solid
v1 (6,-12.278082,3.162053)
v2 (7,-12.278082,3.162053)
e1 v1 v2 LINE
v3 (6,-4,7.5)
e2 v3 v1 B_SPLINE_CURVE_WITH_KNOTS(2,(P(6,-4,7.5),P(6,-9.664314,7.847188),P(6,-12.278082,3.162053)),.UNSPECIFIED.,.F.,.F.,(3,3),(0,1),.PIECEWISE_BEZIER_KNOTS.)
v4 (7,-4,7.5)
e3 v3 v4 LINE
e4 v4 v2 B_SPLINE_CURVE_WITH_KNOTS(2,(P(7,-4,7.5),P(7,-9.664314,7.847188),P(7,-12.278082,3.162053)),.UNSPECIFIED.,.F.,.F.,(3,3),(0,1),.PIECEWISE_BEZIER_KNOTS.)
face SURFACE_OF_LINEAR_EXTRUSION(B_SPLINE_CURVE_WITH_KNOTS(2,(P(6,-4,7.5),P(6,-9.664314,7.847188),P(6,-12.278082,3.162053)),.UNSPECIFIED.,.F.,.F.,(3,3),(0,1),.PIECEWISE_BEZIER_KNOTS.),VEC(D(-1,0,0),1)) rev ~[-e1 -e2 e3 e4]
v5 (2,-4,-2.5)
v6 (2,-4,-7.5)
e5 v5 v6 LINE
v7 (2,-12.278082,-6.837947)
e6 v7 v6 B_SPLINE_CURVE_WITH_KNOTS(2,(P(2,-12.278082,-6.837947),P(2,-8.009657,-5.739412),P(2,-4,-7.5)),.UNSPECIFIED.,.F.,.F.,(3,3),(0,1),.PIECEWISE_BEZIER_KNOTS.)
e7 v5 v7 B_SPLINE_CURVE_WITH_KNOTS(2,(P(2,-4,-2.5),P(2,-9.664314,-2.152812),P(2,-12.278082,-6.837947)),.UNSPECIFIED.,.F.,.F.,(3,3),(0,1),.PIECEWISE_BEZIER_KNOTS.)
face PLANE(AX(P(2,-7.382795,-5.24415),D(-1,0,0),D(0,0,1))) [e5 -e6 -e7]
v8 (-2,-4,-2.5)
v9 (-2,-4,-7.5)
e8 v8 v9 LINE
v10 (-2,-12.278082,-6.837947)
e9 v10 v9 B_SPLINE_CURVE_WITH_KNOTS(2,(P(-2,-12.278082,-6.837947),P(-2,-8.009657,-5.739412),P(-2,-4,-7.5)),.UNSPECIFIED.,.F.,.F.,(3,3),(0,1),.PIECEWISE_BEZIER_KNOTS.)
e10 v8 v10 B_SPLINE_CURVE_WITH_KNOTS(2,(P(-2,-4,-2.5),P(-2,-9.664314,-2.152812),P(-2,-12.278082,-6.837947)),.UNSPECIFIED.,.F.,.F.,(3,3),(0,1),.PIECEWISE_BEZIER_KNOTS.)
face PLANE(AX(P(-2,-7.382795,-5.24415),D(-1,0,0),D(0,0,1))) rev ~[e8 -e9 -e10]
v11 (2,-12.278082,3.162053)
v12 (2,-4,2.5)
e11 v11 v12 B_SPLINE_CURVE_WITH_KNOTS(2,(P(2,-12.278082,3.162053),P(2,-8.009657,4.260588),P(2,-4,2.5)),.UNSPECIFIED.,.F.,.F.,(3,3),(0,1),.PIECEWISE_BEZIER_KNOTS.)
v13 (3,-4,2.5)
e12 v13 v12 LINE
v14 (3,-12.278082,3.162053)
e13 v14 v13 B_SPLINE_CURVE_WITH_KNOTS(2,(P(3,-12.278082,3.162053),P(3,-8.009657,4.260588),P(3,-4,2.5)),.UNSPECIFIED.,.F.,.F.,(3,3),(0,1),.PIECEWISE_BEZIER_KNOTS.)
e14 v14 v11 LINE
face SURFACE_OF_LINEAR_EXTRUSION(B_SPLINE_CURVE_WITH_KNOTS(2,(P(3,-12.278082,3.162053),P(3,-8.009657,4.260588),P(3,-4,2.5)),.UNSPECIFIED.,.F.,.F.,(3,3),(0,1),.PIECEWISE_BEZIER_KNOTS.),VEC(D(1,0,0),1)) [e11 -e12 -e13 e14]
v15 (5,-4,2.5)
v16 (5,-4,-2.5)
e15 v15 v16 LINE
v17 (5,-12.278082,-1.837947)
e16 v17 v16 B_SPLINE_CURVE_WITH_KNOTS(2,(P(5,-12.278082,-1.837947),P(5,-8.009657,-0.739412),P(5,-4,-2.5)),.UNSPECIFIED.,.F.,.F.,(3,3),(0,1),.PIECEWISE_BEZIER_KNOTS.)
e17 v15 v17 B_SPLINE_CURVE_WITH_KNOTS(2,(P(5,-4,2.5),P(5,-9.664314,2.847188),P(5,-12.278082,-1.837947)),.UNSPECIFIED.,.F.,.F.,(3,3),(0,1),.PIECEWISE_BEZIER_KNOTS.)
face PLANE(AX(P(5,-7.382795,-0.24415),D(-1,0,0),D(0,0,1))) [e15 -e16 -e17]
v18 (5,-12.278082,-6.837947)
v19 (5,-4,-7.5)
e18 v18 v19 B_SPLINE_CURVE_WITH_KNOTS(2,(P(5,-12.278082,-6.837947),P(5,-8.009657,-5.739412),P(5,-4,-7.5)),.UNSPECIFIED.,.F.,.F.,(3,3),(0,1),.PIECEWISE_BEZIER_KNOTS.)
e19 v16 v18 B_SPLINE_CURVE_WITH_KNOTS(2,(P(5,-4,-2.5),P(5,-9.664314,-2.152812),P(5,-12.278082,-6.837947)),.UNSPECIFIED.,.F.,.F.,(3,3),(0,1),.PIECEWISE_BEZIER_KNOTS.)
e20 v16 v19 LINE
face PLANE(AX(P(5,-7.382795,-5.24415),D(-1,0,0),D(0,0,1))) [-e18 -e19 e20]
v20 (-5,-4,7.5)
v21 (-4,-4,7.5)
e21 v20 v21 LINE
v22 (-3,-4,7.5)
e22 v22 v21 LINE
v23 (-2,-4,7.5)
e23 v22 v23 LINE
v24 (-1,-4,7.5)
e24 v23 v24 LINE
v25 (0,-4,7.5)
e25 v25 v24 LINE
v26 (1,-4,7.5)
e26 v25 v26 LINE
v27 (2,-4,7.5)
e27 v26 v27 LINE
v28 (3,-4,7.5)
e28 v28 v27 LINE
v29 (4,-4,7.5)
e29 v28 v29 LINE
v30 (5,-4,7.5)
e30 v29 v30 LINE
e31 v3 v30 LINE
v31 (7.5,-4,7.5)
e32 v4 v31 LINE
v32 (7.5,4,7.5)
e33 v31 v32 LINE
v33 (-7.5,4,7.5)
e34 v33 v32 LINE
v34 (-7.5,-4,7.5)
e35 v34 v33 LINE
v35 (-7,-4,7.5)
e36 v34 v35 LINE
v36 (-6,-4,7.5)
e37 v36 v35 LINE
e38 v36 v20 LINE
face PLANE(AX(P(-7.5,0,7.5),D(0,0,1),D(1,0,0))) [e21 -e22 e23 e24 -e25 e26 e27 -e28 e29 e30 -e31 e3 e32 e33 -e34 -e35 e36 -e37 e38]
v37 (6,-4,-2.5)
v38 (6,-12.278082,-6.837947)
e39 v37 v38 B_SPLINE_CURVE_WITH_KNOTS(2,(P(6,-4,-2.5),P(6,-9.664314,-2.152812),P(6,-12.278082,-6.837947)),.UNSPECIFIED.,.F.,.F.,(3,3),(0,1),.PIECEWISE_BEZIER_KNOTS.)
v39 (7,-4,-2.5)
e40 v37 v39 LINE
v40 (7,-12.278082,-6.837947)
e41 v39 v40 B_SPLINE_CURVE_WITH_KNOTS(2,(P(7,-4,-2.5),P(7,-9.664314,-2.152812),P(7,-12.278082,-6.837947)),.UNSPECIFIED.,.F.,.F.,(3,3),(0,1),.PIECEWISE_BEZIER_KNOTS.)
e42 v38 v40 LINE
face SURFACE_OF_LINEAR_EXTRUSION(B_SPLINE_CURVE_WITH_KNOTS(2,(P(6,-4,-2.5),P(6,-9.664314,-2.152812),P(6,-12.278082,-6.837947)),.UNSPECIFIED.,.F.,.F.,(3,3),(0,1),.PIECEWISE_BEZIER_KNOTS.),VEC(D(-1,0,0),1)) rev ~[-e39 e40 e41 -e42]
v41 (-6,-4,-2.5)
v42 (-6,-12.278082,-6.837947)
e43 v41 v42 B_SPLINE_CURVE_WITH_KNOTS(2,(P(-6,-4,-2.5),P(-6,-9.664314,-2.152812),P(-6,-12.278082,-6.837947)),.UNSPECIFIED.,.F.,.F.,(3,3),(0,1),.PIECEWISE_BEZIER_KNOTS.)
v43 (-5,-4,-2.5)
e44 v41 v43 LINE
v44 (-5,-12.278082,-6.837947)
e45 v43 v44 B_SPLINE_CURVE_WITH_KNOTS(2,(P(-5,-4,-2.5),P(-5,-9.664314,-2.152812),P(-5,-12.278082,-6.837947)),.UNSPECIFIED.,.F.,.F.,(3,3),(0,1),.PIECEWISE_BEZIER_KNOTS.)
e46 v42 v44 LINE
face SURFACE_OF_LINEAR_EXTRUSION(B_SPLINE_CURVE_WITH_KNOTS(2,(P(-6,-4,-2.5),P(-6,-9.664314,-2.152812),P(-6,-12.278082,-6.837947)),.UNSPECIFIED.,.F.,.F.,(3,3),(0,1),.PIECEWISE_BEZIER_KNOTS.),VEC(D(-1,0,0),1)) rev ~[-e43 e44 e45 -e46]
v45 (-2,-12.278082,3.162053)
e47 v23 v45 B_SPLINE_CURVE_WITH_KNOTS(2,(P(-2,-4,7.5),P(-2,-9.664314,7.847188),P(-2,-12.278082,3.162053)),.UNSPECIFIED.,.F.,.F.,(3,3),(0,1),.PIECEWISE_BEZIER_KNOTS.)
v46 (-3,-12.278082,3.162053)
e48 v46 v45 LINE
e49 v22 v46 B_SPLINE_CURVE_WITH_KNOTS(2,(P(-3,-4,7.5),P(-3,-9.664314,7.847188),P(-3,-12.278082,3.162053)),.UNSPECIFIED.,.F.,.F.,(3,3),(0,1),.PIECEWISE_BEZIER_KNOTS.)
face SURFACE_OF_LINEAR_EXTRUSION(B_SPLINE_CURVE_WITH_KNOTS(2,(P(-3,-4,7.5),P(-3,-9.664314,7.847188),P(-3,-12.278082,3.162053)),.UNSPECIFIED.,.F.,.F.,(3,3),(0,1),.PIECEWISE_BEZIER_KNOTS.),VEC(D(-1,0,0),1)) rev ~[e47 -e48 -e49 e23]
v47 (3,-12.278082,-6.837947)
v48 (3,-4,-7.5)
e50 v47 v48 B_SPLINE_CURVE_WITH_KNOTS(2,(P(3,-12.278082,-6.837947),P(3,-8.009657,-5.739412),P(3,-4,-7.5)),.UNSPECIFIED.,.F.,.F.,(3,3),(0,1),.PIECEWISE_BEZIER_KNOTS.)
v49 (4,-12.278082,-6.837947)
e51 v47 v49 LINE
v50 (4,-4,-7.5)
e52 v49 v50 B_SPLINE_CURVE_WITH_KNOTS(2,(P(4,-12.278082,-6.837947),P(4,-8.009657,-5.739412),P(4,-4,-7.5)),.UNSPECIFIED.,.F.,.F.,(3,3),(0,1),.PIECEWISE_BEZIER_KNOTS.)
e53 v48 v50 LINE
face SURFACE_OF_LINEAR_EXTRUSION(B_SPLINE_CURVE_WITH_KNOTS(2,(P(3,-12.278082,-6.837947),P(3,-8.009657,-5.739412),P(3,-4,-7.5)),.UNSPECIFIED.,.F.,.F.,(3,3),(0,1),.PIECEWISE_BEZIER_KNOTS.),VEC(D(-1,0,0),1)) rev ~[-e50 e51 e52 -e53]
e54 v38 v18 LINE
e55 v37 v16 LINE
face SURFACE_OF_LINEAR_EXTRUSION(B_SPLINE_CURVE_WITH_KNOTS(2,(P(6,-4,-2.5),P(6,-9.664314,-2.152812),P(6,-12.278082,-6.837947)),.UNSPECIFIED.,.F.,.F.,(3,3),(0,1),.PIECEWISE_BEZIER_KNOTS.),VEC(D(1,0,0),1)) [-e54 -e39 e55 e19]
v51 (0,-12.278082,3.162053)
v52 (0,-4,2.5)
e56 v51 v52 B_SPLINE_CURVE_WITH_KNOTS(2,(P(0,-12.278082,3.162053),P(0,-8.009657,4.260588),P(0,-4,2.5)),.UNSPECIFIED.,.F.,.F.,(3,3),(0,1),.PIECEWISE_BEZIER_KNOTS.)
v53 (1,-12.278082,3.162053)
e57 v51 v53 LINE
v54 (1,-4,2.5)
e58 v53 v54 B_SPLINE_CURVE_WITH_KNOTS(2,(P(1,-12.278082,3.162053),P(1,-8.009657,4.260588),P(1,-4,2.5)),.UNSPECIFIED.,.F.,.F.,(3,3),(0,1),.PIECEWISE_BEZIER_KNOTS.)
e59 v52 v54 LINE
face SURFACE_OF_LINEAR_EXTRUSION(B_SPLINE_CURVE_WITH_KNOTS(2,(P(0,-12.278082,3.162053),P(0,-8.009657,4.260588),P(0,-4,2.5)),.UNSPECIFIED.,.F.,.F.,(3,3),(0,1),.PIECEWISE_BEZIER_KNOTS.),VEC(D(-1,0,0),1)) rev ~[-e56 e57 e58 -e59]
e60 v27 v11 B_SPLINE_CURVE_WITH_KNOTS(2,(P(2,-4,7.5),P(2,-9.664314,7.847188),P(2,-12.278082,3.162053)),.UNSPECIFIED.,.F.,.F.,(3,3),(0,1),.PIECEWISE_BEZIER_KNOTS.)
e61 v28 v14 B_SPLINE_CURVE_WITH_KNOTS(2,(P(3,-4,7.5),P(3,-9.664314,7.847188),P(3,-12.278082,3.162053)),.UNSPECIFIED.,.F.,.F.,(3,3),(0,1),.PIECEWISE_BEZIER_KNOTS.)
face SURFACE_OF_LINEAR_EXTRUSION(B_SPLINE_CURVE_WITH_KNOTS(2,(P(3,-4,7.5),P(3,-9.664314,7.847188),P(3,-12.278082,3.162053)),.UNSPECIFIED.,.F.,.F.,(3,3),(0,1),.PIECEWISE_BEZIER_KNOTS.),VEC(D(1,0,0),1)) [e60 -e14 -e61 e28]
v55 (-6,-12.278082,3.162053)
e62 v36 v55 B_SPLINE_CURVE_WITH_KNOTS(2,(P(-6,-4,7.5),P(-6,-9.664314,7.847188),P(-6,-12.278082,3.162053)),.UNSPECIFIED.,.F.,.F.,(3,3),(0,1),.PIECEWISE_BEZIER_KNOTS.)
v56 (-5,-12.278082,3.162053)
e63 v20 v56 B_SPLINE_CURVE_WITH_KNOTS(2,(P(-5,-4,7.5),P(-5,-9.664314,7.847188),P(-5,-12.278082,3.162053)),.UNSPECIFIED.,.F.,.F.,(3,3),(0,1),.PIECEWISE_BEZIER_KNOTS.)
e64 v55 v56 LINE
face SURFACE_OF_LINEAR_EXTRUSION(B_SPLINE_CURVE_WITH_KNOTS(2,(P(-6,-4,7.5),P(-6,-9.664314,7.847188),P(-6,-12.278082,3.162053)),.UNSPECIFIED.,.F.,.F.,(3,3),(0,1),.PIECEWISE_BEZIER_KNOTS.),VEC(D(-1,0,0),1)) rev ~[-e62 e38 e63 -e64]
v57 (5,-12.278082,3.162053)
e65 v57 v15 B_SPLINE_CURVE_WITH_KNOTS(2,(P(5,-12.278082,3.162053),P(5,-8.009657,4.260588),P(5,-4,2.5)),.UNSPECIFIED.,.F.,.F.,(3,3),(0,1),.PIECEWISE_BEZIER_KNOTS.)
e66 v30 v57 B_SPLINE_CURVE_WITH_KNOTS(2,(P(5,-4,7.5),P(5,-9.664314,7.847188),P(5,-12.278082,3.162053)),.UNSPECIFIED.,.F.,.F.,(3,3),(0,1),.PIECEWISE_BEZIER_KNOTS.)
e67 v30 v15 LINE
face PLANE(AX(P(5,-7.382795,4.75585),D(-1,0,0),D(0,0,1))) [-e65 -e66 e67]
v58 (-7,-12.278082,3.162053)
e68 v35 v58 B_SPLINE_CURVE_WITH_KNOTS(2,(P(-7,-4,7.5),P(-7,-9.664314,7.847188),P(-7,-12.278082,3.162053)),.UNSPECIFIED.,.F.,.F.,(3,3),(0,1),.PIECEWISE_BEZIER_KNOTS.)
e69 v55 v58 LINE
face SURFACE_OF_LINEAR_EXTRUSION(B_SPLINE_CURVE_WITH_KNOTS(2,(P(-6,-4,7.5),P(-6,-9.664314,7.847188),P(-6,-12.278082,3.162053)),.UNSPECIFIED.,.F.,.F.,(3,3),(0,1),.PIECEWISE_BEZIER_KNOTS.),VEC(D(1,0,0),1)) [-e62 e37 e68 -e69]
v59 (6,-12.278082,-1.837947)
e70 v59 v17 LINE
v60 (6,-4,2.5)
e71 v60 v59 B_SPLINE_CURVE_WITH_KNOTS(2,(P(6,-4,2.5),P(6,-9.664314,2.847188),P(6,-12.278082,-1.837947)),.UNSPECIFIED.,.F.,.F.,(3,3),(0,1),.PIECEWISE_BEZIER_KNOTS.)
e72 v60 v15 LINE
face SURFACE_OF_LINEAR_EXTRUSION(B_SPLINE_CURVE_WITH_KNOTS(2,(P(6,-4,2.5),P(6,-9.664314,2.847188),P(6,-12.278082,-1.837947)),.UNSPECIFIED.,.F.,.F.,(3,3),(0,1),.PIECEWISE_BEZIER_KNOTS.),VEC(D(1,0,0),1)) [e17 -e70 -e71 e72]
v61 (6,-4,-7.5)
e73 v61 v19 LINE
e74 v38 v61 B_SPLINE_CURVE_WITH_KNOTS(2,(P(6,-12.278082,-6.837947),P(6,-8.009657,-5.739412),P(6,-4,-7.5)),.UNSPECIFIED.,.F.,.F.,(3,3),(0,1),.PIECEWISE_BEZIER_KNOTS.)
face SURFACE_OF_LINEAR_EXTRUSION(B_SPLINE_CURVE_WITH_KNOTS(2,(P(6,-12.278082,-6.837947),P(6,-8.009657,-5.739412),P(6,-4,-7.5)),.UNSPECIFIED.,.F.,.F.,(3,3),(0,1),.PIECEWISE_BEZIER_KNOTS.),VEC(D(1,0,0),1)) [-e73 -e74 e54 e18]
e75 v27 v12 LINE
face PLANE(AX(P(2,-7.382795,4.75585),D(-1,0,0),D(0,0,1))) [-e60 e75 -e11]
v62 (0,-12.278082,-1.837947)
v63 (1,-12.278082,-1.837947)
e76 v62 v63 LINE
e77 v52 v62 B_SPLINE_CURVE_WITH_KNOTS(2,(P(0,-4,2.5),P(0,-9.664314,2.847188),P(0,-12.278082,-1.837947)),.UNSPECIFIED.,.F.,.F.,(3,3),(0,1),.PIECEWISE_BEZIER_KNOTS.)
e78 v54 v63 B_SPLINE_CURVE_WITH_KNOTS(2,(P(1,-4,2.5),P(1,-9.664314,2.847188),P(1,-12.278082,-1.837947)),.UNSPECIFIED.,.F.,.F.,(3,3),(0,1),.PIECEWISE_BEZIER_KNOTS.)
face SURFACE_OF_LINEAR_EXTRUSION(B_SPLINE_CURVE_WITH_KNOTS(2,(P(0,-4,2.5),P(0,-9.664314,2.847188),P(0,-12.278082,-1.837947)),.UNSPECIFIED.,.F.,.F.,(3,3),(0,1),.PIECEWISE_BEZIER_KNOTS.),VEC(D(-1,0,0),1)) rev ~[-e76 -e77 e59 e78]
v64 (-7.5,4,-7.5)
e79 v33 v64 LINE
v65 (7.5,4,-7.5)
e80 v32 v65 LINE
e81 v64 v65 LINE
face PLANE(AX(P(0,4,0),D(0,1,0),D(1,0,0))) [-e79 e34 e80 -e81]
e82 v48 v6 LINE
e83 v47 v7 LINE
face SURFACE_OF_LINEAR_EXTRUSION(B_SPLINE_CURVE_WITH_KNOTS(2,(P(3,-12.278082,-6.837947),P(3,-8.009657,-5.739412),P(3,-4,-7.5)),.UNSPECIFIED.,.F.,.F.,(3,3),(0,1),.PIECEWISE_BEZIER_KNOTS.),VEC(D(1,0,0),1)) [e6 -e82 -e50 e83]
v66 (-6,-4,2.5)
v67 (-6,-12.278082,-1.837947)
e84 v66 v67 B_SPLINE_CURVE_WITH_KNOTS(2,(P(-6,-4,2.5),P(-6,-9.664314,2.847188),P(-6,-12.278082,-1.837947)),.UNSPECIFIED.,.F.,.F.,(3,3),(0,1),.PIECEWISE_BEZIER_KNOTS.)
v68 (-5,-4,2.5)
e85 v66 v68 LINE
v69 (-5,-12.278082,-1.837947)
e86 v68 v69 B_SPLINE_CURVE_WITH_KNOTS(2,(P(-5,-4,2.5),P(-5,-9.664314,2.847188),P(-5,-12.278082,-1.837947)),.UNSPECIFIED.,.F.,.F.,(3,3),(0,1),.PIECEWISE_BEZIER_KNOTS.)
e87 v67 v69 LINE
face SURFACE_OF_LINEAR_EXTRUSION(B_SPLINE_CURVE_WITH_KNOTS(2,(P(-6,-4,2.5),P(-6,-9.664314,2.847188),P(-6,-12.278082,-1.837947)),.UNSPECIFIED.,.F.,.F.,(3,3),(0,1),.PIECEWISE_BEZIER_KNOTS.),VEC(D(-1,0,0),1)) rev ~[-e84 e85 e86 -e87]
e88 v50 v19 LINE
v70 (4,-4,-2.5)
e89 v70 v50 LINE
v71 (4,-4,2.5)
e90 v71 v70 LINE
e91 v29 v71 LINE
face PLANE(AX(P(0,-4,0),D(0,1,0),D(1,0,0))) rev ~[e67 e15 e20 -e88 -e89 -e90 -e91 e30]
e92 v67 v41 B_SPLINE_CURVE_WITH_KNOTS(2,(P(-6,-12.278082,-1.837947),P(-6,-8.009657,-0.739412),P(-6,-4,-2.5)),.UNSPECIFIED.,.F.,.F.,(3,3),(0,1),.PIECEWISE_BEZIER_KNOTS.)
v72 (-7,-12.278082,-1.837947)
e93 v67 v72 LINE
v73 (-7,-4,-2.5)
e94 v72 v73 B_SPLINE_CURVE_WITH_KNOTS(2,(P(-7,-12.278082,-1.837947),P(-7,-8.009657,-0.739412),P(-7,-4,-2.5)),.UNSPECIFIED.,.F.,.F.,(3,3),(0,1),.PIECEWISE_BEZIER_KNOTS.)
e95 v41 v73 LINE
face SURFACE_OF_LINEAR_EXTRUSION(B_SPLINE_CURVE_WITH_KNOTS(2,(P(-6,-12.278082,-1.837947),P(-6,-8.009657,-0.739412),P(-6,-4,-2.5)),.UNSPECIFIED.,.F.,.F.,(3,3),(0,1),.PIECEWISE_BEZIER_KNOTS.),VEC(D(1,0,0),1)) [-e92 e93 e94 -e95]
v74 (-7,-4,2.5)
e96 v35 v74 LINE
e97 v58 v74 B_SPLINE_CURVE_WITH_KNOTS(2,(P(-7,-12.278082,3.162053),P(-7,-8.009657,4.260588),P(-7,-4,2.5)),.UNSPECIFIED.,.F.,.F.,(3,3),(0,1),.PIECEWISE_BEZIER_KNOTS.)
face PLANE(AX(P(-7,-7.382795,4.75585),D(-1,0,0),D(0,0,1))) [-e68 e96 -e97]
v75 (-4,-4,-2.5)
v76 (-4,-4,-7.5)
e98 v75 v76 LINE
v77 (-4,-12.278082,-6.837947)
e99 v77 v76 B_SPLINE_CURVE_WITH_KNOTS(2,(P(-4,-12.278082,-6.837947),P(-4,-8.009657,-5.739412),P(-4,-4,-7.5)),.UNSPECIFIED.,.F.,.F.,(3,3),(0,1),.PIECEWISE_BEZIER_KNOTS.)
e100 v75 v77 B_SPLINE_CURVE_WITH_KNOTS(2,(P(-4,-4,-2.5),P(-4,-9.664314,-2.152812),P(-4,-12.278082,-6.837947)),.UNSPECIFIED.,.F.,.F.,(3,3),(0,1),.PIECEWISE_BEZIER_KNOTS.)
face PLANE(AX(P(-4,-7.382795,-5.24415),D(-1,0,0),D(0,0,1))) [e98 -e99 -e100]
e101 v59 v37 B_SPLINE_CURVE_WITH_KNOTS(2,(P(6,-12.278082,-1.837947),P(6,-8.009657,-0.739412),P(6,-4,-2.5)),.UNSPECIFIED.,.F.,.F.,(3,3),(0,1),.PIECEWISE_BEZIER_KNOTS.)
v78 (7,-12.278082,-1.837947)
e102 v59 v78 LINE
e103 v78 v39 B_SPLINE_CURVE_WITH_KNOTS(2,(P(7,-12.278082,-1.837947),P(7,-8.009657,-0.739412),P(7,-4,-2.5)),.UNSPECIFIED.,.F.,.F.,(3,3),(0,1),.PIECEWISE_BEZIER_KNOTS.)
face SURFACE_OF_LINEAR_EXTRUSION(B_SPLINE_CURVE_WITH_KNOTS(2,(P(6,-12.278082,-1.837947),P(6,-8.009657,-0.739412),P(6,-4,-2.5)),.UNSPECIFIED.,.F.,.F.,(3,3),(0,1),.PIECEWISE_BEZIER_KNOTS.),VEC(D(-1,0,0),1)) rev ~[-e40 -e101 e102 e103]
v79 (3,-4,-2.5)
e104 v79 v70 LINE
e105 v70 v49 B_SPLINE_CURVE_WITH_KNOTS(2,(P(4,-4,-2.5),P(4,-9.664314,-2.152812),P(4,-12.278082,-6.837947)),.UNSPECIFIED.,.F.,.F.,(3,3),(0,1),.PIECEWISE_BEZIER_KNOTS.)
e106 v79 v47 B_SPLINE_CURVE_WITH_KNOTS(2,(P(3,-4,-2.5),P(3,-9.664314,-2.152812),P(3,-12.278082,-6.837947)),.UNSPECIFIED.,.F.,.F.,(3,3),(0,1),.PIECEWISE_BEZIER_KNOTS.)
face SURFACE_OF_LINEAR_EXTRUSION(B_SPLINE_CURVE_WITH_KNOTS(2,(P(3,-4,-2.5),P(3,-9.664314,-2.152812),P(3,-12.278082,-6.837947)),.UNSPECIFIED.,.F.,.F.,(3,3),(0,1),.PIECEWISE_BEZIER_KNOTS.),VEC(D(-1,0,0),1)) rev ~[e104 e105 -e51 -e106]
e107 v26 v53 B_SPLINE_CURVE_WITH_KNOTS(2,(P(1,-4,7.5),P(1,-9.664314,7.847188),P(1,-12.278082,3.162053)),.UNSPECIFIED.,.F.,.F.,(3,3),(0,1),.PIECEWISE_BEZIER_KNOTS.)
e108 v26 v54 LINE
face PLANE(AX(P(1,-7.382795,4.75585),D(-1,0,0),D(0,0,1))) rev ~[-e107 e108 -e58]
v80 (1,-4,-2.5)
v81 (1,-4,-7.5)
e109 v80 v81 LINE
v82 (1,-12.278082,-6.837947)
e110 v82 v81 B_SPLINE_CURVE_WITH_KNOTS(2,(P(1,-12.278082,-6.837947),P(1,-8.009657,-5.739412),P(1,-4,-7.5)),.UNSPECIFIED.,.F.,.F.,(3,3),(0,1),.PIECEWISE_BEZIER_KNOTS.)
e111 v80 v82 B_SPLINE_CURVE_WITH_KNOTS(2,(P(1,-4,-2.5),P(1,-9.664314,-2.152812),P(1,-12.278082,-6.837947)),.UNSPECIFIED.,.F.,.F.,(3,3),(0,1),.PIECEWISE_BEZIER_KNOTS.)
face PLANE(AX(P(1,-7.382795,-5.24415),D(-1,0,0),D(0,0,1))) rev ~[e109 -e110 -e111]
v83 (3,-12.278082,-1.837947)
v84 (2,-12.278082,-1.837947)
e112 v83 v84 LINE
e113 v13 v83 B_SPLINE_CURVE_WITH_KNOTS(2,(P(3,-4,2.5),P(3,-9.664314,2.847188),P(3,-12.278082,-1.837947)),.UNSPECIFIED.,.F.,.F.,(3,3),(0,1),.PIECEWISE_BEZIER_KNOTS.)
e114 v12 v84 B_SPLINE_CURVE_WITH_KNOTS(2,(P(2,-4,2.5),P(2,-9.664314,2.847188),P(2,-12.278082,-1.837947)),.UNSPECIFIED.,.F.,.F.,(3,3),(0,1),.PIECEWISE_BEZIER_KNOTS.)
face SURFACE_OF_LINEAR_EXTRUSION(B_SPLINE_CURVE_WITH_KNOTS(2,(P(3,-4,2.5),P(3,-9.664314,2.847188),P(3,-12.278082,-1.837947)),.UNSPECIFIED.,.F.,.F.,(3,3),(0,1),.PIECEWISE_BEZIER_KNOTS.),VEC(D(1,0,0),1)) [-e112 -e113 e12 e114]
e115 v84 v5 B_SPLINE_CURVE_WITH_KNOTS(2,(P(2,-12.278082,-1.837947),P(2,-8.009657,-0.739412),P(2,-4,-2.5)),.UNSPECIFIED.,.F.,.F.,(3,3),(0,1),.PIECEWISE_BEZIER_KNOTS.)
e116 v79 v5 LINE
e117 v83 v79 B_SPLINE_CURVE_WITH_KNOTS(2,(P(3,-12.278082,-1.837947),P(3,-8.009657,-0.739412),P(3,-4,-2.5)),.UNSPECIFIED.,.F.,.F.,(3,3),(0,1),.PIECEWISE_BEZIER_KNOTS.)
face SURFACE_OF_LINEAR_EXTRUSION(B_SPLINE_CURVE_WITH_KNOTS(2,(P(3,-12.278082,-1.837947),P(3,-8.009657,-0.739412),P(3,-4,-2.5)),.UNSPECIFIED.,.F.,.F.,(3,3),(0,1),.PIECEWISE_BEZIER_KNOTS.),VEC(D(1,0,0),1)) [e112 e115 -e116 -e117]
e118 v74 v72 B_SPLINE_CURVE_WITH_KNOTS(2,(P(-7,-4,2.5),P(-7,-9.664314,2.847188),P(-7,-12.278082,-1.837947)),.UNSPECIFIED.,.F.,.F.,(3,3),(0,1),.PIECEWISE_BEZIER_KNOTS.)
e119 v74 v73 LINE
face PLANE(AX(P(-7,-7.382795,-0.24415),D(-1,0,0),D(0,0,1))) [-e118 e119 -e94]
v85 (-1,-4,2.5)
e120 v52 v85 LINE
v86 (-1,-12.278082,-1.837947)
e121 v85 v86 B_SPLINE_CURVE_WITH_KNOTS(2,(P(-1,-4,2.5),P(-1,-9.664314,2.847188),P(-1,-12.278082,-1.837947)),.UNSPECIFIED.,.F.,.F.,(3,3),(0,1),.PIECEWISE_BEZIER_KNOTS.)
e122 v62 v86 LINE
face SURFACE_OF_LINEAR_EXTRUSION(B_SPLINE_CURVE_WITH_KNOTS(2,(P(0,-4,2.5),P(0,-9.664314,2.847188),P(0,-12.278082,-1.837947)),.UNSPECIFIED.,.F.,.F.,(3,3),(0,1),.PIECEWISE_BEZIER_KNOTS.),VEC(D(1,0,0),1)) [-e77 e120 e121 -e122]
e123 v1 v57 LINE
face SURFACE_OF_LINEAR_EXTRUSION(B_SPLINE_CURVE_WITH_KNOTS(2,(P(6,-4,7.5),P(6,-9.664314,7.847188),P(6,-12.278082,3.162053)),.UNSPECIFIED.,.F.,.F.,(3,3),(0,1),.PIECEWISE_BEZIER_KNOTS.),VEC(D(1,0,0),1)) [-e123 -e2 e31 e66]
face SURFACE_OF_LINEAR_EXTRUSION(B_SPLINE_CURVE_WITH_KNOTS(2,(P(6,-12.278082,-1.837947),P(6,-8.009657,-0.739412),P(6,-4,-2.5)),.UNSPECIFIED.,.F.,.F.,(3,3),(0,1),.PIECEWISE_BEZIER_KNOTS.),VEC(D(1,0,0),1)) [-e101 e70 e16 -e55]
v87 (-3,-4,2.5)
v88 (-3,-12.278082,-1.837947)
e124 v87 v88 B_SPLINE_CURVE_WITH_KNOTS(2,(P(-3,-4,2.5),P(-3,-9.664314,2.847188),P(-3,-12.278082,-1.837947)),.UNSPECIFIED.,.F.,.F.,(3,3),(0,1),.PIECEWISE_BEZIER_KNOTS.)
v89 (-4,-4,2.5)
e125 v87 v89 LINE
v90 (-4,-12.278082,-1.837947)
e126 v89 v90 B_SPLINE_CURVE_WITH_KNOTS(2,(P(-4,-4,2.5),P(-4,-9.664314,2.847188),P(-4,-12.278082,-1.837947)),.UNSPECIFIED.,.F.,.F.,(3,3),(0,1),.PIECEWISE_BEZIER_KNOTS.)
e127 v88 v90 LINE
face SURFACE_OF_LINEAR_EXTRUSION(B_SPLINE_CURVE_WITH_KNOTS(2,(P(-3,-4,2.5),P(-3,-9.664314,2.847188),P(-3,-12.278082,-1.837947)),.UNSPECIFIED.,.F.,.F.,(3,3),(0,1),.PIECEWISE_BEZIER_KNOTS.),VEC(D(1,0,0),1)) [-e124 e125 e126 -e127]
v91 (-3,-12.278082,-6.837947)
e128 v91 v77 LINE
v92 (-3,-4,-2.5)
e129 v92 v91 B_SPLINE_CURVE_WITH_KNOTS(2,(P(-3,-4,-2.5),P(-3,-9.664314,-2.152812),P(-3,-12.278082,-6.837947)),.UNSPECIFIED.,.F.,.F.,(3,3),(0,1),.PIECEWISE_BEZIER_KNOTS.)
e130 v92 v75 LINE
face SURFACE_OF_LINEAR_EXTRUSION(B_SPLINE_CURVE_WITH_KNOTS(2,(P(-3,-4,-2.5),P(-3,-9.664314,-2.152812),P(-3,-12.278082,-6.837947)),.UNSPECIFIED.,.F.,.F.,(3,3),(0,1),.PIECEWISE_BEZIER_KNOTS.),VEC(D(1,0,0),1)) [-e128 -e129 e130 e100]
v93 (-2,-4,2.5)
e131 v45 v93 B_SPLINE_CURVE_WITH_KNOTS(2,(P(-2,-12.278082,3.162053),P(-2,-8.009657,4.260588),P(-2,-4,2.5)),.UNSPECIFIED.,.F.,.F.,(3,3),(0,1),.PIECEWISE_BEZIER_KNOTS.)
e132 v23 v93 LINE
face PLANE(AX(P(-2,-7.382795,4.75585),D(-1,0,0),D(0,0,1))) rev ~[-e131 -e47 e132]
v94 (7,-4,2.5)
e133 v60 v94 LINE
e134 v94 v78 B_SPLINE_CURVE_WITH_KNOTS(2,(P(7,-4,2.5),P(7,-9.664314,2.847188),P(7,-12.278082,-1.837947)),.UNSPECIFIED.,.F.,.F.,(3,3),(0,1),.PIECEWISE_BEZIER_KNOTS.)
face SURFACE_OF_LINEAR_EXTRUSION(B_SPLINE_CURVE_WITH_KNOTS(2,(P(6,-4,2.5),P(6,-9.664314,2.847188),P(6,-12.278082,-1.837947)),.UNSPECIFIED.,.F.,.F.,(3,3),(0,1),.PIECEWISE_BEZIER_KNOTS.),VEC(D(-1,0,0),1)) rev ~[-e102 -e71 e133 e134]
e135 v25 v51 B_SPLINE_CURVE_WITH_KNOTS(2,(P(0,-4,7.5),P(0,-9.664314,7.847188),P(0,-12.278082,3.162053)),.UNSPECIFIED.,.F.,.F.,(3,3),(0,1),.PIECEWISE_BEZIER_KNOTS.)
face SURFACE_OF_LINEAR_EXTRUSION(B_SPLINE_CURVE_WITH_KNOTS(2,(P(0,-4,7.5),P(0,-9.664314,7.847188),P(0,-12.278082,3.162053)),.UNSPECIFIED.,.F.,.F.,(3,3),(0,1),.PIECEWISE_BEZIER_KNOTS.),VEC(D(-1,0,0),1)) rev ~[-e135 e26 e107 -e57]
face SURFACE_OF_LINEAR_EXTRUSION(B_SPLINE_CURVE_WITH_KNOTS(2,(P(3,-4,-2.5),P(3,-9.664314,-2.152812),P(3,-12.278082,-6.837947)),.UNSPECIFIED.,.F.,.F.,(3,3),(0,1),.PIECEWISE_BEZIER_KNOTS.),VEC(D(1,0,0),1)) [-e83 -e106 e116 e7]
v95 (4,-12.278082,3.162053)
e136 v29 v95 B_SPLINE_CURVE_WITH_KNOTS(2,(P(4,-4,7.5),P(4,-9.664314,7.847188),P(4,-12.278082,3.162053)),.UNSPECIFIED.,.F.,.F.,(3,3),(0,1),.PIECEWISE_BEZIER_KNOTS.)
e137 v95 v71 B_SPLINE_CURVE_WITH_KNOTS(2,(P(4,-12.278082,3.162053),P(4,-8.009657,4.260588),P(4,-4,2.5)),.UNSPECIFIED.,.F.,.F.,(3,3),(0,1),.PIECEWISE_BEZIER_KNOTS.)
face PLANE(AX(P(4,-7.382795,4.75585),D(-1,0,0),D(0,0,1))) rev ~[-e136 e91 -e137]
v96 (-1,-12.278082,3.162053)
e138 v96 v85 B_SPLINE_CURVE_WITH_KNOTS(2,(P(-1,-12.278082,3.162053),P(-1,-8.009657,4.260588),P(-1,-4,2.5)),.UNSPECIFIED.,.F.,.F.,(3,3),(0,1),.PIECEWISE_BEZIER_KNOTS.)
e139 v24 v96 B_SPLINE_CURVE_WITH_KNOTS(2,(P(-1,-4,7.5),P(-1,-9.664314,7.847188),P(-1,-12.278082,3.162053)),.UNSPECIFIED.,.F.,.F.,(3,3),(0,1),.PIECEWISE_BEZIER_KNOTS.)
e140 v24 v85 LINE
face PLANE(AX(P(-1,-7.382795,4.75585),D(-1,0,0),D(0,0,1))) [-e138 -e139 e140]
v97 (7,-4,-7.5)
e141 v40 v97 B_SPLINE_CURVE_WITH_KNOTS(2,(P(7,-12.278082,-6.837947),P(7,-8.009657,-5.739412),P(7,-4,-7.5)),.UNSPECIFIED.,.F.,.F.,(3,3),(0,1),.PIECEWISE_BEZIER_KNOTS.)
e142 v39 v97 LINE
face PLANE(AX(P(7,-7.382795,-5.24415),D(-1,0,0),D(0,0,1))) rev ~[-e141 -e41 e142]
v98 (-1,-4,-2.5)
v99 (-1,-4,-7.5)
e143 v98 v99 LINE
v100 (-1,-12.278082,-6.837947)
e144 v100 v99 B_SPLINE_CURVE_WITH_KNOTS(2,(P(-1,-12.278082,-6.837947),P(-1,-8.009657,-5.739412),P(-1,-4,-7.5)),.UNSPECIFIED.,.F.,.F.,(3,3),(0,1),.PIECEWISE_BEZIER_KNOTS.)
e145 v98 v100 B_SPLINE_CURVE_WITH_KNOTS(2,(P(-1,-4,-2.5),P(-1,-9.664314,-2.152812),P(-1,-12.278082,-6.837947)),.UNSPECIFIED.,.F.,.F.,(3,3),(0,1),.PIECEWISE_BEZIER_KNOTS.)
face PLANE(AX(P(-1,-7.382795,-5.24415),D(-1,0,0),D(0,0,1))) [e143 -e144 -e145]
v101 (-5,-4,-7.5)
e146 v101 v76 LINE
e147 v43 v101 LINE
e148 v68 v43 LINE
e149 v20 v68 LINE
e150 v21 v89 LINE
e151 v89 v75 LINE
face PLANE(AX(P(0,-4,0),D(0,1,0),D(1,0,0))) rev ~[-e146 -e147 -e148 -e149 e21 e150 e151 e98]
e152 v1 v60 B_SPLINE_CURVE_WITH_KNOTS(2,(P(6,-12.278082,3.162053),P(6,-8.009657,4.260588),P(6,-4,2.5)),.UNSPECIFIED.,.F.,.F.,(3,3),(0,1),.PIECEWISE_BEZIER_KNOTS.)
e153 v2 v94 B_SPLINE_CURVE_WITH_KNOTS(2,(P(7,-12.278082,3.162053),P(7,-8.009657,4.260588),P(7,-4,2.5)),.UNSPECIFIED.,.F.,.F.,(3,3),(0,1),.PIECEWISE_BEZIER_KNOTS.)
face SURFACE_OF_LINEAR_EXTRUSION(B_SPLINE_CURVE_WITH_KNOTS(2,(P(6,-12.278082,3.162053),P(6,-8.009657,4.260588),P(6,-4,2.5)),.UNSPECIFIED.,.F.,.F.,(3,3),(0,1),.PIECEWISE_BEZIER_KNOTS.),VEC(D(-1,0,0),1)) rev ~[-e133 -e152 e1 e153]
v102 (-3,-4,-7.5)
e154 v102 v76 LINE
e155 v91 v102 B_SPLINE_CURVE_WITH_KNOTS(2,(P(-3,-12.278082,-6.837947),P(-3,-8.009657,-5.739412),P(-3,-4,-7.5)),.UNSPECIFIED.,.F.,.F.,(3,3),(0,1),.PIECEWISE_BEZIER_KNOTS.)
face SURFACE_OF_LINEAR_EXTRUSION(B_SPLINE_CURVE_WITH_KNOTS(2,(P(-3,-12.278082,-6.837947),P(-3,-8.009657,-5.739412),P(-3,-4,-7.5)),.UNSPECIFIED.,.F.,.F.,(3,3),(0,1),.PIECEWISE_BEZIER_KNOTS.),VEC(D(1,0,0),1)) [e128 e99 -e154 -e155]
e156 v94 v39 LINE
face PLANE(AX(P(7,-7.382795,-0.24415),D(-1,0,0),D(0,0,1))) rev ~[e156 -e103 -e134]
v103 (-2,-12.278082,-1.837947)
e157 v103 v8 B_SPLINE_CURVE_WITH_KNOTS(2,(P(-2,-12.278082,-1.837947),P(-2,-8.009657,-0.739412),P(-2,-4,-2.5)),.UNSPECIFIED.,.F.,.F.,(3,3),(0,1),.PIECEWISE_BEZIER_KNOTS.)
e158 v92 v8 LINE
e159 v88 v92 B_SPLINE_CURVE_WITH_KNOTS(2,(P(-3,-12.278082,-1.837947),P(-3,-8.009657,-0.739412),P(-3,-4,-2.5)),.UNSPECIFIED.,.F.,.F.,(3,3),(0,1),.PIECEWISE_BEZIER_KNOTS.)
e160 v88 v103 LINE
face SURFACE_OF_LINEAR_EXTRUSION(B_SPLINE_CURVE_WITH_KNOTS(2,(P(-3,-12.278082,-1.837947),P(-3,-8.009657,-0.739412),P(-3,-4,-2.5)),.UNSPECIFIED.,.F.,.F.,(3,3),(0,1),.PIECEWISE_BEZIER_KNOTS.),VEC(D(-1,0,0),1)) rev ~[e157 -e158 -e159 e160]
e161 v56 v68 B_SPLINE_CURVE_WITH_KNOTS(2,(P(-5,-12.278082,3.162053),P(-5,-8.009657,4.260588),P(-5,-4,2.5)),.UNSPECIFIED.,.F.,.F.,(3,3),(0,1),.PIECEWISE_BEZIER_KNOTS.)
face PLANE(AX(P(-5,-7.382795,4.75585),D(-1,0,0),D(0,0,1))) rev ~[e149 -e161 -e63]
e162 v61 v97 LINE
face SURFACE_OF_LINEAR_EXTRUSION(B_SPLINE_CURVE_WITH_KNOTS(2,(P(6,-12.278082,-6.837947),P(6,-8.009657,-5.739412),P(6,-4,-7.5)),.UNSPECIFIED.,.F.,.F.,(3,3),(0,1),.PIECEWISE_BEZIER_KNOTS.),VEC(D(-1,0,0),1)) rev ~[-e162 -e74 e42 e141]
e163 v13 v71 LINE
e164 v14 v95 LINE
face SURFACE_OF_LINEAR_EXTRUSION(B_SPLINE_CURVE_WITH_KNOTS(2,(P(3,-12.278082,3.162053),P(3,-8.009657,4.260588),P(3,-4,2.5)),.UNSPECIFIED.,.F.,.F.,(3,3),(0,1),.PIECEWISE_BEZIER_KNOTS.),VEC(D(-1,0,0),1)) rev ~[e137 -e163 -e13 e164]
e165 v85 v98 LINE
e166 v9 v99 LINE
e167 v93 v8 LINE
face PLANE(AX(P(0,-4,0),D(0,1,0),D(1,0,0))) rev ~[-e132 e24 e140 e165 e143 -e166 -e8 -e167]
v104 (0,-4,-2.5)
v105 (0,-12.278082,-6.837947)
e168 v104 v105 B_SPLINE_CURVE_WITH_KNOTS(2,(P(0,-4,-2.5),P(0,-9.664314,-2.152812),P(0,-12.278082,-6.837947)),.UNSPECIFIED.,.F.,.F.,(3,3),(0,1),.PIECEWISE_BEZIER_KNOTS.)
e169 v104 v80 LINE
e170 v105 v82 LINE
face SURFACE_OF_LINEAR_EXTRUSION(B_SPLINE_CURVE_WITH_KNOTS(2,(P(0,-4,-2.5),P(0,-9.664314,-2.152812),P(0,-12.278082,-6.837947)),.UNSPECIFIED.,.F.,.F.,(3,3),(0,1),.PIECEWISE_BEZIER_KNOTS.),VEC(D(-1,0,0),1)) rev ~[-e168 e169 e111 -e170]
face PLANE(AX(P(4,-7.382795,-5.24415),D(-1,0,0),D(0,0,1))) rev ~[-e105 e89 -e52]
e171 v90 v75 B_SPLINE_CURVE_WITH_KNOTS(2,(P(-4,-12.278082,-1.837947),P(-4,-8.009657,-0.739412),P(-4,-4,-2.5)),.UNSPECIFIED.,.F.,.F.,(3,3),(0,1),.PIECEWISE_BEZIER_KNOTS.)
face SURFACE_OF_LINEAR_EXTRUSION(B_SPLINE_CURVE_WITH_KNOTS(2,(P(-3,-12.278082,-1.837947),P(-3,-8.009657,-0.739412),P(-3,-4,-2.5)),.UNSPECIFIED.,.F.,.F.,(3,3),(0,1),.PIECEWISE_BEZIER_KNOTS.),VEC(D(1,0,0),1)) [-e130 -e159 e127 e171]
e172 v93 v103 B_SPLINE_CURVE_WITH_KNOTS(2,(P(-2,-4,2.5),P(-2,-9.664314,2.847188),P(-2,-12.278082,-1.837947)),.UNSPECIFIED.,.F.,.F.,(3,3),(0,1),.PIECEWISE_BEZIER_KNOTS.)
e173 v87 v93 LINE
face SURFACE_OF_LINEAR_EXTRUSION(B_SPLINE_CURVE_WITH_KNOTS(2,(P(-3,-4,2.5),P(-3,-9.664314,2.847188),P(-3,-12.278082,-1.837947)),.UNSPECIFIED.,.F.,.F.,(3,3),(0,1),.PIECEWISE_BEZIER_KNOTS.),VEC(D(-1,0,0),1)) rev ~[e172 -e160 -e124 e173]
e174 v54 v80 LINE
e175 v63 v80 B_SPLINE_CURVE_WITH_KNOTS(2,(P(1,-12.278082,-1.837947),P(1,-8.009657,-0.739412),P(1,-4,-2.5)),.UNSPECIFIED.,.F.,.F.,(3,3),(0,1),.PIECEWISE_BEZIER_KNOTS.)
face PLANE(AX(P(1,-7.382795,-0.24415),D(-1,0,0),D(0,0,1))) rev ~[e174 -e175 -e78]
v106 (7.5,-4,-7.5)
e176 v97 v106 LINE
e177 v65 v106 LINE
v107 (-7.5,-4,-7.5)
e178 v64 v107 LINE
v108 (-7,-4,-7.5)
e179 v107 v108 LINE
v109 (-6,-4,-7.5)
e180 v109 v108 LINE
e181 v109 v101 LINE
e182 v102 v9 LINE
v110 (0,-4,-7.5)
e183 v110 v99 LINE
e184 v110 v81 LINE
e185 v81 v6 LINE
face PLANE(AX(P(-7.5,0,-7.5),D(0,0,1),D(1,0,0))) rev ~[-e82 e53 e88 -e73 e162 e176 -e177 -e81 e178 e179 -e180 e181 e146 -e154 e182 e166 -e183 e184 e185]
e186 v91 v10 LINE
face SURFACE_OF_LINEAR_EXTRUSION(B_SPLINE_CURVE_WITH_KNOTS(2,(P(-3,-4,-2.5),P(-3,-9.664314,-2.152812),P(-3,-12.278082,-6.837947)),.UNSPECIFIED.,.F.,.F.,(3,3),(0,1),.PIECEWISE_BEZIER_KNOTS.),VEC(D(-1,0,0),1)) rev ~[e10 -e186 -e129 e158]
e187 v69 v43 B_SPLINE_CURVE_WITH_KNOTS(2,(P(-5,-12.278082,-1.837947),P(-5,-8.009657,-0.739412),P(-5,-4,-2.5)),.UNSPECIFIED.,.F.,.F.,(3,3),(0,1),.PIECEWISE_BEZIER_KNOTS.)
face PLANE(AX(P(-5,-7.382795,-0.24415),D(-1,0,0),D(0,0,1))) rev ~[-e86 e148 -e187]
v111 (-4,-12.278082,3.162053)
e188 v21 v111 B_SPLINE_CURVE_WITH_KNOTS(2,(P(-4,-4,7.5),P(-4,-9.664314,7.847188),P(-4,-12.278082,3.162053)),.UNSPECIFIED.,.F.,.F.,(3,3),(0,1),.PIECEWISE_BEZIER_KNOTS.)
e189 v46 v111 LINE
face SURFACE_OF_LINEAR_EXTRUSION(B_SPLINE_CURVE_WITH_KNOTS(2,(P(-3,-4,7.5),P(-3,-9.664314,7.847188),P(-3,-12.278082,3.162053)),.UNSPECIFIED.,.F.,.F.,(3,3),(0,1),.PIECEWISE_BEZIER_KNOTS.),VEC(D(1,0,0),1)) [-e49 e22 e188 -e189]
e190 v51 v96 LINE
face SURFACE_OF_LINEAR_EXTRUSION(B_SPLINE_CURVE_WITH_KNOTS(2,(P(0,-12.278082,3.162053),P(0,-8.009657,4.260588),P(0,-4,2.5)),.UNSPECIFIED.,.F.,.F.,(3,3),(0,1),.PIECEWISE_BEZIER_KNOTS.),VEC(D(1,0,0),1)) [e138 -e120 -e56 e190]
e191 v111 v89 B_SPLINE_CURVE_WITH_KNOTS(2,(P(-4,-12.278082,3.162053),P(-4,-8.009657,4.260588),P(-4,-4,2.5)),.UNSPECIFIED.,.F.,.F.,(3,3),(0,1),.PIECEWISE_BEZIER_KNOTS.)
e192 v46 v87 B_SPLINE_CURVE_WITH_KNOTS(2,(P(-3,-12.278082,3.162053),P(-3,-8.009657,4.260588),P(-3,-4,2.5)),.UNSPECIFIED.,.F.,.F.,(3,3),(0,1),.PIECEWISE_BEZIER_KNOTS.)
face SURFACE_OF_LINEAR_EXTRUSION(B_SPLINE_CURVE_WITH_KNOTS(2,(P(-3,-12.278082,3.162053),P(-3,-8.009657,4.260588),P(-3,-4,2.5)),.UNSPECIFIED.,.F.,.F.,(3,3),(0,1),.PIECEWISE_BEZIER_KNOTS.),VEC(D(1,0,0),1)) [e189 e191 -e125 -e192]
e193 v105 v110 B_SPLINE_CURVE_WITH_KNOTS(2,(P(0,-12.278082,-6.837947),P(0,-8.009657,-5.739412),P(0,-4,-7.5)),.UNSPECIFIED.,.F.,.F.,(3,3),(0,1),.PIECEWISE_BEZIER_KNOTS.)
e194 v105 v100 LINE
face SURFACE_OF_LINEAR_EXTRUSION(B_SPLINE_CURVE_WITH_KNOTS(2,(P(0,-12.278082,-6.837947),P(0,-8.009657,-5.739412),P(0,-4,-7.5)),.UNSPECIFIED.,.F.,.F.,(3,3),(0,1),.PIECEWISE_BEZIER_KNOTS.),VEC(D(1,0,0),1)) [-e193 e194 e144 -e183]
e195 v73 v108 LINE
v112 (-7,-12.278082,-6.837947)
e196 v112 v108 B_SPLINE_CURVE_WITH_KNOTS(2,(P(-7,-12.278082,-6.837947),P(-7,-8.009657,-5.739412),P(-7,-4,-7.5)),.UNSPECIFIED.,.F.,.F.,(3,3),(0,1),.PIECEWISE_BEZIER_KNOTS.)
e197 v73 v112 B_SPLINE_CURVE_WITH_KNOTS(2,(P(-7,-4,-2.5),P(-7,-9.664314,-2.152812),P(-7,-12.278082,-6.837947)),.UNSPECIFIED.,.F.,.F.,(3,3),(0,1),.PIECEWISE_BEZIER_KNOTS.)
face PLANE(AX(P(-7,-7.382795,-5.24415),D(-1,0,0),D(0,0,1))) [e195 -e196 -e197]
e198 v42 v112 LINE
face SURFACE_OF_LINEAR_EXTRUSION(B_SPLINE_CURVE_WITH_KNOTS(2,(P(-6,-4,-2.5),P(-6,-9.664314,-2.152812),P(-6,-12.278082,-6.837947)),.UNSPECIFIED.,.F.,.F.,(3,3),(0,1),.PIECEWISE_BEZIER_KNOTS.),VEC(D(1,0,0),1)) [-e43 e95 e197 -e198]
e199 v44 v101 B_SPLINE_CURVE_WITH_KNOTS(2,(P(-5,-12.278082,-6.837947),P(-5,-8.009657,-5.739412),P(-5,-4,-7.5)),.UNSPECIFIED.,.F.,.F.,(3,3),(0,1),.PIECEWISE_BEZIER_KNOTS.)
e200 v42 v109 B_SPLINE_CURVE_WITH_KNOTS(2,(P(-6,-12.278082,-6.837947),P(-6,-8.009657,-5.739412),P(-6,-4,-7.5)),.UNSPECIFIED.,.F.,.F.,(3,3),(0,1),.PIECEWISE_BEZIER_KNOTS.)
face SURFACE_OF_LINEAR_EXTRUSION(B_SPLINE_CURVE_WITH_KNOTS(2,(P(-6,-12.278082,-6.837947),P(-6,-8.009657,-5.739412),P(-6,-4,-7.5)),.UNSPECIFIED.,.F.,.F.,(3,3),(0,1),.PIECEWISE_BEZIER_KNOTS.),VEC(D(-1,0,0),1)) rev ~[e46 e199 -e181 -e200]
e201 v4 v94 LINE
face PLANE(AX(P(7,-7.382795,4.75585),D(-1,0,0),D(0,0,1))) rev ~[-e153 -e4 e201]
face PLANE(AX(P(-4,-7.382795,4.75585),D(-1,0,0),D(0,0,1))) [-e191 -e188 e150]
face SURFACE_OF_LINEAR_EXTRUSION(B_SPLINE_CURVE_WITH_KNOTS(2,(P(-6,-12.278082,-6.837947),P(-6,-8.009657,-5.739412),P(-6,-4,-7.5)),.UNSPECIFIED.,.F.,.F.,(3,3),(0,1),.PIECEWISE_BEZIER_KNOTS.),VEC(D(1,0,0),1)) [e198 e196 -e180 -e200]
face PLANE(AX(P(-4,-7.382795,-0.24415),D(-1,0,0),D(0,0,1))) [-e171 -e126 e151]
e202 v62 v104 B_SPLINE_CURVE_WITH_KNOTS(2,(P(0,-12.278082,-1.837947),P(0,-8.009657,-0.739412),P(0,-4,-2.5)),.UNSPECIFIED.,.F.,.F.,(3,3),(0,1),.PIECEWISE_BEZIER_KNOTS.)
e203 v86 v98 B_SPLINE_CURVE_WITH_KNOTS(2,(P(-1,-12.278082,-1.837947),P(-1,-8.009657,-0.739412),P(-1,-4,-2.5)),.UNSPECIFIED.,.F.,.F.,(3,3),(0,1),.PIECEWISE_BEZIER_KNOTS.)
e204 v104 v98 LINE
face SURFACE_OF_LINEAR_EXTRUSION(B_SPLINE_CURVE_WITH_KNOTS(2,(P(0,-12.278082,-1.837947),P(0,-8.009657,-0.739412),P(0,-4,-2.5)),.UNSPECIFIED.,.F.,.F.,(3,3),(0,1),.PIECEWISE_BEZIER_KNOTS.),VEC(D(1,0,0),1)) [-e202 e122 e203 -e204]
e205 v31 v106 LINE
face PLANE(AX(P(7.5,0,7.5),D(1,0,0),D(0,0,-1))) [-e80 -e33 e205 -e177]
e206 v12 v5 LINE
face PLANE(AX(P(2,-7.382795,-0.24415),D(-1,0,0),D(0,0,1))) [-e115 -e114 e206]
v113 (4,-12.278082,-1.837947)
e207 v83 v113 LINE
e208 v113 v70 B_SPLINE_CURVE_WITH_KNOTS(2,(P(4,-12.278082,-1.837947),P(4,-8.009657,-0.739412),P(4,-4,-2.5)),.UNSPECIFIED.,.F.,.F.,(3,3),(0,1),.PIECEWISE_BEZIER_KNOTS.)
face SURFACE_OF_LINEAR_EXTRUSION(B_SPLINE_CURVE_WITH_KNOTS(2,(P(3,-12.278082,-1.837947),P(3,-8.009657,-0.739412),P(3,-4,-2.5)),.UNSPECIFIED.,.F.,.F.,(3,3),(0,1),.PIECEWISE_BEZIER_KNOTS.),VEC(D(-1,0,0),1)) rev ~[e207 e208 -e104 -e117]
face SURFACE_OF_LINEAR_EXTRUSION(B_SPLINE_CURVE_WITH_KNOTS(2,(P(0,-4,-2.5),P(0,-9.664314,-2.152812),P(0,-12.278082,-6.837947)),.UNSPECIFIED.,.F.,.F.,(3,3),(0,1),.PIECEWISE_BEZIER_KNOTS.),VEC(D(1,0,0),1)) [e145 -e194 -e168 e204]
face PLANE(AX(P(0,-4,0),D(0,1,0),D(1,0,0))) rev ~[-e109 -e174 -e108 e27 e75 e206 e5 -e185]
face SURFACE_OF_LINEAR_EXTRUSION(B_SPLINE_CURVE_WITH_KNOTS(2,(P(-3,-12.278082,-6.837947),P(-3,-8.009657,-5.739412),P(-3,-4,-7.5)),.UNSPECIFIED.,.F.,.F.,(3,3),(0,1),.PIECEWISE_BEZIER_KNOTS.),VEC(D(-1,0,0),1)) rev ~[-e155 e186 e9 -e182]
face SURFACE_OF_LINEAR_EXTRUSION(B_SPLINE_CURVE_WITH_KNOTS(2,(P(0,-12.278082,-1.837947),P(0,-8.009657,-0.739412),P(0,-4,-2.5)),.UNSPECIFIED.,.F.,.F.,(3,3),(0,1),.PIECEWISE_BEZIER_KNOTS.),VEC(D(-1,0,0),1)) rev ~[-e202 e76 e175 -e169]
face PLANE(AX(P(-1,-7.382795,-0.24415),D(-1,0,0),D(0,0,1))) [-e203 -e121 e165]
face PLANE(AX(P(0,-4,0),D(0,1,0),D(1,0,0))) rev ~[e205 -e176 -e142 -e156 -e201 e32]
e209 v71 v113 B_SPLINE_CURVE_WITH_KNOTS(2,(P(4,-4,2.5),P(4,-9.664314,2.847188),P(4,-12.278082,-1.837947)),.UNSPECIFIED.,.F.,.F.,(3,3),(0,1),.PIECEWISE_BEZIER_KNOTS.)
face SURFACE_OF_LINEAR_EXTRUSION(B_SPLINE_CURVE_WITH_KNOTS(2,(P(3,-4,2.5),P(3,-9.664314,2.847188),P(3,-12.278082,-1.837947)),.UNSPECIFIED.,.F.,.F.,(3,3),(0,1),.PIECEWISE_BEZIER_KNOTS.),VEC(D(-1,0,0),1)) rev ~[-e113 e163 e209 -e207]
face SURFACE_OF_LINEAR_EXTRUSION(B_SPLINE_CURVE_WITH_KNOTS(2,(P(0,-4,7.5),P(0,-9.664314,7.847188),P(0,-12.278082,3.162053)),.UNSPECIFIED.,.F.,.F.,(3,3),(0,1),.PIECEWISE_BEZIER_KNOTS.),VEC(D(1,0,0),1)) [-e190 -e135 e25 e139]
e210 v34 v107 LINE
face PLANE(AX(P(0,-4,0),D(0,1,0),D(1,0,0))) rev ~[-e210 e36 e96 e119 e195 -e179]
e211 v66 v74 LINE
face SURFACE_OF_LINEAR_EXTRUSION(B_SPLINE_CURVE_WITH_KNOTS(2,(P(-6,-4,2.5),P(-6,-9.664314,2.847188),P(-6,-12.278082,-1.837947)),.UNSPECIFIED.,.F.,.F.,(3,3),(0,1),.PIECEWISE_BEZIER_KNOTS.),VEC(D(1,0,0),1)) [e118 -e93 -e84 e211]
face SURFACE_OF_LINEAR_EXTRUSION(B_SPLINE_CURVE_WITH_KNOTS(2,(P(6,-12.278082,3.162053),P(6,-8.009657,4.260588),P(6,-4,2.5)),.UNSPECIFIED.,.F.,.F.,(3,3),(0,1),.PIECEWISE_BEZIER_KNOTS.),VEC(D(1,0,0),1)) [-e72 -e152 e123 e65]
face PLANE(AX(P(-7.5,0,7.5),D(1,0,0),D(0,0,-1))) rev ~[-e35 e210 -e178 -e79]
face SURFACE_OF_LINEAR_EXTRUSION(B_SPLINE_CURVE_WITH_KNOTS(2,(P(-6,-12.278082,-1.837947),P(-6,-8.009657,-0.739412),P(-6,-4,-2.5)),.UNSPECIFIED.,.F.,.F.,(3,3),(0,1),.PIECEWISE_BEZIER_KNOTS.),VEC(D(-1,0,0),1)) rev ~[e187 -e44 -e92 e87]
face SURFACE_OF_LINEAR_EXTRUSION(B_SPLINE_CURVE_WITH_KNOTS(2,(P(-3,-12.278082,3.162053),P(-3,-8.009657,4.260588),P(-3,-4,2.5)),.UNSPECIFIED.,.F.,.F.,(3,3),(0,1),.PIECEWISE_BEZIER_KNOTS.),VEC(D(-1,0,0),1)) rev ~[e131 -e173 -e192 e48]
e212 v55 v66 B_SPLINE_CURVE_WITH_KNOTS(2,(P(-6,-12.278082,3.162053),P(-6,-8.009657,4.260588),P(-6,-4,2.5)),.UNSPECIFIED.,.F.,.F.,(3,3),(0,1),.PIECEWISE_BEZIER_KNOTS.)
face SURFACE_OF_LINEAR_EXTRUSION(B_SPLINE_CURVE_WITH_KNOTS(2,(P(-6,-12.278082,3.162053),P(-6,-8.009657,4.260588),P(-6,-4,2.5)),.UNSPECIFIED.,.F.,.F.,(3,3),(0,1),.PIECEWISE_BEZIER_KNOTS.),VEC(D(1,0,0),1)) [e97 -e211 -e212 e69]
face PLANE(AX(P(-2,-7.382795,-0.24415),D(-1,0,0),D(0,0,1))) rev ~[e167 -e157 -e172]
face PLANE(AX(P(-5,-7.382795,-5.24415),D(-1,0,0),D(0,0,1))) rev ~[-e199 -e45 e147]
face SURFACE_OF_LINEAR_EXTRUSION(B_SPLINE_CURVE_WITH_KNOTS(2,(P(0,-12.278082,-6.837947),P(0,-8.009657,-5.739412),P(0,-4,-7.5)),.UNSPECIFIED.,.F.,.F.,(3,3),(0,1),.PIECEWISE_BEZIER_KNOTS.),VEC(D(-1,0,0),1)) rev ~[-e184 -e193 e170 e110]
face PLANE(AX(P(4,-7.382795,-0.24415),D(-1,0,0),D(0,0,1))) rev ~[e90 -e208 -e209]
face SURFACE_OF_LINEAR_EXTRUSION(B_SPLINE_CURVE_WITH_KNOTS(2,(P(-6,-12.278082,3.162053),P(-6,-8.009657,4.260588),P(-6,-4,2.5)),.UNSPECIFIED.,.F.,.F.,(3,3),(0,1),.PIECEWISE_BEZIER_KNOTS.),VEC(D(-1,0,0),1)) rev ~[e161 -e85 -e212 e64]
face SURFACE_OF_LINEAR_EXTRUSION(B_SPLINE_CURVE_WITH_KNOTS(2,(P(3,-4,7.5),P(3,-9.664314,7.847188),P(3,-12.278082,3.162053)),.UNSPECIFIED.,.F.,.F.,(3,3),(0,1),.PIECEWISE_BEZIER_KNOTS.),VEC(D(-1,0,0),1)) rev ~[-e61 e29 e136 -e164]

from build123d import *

# Parameters (mm, degrees)
SKETCH_1_W                  = 15
SKETCH_1_H                  = 15
EXTRUDE_1_DEPTH             = 4
EXTRUDE_2_DEPTH             = 1
PATTERN_LINEAR_1_COUNT      = 3
PATTERN_LINEAR_1_PITCH      = 3
PATTERN_LINEAR_1_COUNT_DIR2 = 3
PATTERN_LINEAR_1_PITCH_DIR2 = 5
PATTERN_LINEAR_2_COUNT      = 3
PATTERN_LINEAR_2_PITCH      = 3
PATTERN_LINEAR_2_COUNT_DIR2 = 3
PATTERN_LINEAR_2_PITCH_DIR2 = 5


with BuildPart() as part:
    # 스케치1 → 보스-돌출1 (new, symmetric)
    with BuildSketch(Plane(origin=(0, 0, 0), x_dir=(1, 0, 0), z_dir=(0, 1, 0))):
        Rectangle(SKETCH_1_W, SKETCH_1_H)
    extrude(amount=EXTRUDE_1_DEPTH, both=True)

    # 스케치3 → 보스-돌출2 (add, symmetric)
    with BuildSketch(Plane(origin=(0, 0, 0), x_dir=(0, 0, -1), z_dir=(1, 0, 0))):
        with BuildLine():
            Line((2.5, -4), (7.5, -4))
            add(Edge.make_bspline(
                [(6.837946582, -12.278081575), (5.73941202, -8.009656666), (7.5, -4)],
                knots=[0, 0, 0, 1, 1, 1], degree=2))
            add(Edge.make_bspline(
                [(2.5, -4), (2.152812134, -9.664313578), (6.837946582, -12.278081575)],
                knots=[0, 0, 0, 1, 1, 1], degree=2))
        make_face()
    extrude_2 = extrude(amount=EXTRUDE_2_DEPTH, both=True)

    # 선형 패턴1: Extrude 2 3 × 3
    with Locations(*[(-i * PATTERN_LINEAR_1_PITCH, 0, j * PATTERN_LINEAR_1_PITCH_DIR2) for i in range(PATTERN_LINEAR_1_COUNT) for j in range(PATTERN_LINEAR_1_COUNT_DIR2) if (i, j) != (0, 0)]):
        add(extrude_2)

    # 선형 패턴2: Extrude 2 3 × 3
    with Locations(*[(i * PATTERN_LINEAR_2_PITCH, 0, j * PATTERN_LINEAR_2_PITCH_DIR2) for i in range(PATTERN_LINEAR_2_COUNT) for j in range(PATTERN_LINEAR_2_COUNT_DIR2) if (i, j) != (0, 0)]):
        add(extrude_2)


solid = part.part
